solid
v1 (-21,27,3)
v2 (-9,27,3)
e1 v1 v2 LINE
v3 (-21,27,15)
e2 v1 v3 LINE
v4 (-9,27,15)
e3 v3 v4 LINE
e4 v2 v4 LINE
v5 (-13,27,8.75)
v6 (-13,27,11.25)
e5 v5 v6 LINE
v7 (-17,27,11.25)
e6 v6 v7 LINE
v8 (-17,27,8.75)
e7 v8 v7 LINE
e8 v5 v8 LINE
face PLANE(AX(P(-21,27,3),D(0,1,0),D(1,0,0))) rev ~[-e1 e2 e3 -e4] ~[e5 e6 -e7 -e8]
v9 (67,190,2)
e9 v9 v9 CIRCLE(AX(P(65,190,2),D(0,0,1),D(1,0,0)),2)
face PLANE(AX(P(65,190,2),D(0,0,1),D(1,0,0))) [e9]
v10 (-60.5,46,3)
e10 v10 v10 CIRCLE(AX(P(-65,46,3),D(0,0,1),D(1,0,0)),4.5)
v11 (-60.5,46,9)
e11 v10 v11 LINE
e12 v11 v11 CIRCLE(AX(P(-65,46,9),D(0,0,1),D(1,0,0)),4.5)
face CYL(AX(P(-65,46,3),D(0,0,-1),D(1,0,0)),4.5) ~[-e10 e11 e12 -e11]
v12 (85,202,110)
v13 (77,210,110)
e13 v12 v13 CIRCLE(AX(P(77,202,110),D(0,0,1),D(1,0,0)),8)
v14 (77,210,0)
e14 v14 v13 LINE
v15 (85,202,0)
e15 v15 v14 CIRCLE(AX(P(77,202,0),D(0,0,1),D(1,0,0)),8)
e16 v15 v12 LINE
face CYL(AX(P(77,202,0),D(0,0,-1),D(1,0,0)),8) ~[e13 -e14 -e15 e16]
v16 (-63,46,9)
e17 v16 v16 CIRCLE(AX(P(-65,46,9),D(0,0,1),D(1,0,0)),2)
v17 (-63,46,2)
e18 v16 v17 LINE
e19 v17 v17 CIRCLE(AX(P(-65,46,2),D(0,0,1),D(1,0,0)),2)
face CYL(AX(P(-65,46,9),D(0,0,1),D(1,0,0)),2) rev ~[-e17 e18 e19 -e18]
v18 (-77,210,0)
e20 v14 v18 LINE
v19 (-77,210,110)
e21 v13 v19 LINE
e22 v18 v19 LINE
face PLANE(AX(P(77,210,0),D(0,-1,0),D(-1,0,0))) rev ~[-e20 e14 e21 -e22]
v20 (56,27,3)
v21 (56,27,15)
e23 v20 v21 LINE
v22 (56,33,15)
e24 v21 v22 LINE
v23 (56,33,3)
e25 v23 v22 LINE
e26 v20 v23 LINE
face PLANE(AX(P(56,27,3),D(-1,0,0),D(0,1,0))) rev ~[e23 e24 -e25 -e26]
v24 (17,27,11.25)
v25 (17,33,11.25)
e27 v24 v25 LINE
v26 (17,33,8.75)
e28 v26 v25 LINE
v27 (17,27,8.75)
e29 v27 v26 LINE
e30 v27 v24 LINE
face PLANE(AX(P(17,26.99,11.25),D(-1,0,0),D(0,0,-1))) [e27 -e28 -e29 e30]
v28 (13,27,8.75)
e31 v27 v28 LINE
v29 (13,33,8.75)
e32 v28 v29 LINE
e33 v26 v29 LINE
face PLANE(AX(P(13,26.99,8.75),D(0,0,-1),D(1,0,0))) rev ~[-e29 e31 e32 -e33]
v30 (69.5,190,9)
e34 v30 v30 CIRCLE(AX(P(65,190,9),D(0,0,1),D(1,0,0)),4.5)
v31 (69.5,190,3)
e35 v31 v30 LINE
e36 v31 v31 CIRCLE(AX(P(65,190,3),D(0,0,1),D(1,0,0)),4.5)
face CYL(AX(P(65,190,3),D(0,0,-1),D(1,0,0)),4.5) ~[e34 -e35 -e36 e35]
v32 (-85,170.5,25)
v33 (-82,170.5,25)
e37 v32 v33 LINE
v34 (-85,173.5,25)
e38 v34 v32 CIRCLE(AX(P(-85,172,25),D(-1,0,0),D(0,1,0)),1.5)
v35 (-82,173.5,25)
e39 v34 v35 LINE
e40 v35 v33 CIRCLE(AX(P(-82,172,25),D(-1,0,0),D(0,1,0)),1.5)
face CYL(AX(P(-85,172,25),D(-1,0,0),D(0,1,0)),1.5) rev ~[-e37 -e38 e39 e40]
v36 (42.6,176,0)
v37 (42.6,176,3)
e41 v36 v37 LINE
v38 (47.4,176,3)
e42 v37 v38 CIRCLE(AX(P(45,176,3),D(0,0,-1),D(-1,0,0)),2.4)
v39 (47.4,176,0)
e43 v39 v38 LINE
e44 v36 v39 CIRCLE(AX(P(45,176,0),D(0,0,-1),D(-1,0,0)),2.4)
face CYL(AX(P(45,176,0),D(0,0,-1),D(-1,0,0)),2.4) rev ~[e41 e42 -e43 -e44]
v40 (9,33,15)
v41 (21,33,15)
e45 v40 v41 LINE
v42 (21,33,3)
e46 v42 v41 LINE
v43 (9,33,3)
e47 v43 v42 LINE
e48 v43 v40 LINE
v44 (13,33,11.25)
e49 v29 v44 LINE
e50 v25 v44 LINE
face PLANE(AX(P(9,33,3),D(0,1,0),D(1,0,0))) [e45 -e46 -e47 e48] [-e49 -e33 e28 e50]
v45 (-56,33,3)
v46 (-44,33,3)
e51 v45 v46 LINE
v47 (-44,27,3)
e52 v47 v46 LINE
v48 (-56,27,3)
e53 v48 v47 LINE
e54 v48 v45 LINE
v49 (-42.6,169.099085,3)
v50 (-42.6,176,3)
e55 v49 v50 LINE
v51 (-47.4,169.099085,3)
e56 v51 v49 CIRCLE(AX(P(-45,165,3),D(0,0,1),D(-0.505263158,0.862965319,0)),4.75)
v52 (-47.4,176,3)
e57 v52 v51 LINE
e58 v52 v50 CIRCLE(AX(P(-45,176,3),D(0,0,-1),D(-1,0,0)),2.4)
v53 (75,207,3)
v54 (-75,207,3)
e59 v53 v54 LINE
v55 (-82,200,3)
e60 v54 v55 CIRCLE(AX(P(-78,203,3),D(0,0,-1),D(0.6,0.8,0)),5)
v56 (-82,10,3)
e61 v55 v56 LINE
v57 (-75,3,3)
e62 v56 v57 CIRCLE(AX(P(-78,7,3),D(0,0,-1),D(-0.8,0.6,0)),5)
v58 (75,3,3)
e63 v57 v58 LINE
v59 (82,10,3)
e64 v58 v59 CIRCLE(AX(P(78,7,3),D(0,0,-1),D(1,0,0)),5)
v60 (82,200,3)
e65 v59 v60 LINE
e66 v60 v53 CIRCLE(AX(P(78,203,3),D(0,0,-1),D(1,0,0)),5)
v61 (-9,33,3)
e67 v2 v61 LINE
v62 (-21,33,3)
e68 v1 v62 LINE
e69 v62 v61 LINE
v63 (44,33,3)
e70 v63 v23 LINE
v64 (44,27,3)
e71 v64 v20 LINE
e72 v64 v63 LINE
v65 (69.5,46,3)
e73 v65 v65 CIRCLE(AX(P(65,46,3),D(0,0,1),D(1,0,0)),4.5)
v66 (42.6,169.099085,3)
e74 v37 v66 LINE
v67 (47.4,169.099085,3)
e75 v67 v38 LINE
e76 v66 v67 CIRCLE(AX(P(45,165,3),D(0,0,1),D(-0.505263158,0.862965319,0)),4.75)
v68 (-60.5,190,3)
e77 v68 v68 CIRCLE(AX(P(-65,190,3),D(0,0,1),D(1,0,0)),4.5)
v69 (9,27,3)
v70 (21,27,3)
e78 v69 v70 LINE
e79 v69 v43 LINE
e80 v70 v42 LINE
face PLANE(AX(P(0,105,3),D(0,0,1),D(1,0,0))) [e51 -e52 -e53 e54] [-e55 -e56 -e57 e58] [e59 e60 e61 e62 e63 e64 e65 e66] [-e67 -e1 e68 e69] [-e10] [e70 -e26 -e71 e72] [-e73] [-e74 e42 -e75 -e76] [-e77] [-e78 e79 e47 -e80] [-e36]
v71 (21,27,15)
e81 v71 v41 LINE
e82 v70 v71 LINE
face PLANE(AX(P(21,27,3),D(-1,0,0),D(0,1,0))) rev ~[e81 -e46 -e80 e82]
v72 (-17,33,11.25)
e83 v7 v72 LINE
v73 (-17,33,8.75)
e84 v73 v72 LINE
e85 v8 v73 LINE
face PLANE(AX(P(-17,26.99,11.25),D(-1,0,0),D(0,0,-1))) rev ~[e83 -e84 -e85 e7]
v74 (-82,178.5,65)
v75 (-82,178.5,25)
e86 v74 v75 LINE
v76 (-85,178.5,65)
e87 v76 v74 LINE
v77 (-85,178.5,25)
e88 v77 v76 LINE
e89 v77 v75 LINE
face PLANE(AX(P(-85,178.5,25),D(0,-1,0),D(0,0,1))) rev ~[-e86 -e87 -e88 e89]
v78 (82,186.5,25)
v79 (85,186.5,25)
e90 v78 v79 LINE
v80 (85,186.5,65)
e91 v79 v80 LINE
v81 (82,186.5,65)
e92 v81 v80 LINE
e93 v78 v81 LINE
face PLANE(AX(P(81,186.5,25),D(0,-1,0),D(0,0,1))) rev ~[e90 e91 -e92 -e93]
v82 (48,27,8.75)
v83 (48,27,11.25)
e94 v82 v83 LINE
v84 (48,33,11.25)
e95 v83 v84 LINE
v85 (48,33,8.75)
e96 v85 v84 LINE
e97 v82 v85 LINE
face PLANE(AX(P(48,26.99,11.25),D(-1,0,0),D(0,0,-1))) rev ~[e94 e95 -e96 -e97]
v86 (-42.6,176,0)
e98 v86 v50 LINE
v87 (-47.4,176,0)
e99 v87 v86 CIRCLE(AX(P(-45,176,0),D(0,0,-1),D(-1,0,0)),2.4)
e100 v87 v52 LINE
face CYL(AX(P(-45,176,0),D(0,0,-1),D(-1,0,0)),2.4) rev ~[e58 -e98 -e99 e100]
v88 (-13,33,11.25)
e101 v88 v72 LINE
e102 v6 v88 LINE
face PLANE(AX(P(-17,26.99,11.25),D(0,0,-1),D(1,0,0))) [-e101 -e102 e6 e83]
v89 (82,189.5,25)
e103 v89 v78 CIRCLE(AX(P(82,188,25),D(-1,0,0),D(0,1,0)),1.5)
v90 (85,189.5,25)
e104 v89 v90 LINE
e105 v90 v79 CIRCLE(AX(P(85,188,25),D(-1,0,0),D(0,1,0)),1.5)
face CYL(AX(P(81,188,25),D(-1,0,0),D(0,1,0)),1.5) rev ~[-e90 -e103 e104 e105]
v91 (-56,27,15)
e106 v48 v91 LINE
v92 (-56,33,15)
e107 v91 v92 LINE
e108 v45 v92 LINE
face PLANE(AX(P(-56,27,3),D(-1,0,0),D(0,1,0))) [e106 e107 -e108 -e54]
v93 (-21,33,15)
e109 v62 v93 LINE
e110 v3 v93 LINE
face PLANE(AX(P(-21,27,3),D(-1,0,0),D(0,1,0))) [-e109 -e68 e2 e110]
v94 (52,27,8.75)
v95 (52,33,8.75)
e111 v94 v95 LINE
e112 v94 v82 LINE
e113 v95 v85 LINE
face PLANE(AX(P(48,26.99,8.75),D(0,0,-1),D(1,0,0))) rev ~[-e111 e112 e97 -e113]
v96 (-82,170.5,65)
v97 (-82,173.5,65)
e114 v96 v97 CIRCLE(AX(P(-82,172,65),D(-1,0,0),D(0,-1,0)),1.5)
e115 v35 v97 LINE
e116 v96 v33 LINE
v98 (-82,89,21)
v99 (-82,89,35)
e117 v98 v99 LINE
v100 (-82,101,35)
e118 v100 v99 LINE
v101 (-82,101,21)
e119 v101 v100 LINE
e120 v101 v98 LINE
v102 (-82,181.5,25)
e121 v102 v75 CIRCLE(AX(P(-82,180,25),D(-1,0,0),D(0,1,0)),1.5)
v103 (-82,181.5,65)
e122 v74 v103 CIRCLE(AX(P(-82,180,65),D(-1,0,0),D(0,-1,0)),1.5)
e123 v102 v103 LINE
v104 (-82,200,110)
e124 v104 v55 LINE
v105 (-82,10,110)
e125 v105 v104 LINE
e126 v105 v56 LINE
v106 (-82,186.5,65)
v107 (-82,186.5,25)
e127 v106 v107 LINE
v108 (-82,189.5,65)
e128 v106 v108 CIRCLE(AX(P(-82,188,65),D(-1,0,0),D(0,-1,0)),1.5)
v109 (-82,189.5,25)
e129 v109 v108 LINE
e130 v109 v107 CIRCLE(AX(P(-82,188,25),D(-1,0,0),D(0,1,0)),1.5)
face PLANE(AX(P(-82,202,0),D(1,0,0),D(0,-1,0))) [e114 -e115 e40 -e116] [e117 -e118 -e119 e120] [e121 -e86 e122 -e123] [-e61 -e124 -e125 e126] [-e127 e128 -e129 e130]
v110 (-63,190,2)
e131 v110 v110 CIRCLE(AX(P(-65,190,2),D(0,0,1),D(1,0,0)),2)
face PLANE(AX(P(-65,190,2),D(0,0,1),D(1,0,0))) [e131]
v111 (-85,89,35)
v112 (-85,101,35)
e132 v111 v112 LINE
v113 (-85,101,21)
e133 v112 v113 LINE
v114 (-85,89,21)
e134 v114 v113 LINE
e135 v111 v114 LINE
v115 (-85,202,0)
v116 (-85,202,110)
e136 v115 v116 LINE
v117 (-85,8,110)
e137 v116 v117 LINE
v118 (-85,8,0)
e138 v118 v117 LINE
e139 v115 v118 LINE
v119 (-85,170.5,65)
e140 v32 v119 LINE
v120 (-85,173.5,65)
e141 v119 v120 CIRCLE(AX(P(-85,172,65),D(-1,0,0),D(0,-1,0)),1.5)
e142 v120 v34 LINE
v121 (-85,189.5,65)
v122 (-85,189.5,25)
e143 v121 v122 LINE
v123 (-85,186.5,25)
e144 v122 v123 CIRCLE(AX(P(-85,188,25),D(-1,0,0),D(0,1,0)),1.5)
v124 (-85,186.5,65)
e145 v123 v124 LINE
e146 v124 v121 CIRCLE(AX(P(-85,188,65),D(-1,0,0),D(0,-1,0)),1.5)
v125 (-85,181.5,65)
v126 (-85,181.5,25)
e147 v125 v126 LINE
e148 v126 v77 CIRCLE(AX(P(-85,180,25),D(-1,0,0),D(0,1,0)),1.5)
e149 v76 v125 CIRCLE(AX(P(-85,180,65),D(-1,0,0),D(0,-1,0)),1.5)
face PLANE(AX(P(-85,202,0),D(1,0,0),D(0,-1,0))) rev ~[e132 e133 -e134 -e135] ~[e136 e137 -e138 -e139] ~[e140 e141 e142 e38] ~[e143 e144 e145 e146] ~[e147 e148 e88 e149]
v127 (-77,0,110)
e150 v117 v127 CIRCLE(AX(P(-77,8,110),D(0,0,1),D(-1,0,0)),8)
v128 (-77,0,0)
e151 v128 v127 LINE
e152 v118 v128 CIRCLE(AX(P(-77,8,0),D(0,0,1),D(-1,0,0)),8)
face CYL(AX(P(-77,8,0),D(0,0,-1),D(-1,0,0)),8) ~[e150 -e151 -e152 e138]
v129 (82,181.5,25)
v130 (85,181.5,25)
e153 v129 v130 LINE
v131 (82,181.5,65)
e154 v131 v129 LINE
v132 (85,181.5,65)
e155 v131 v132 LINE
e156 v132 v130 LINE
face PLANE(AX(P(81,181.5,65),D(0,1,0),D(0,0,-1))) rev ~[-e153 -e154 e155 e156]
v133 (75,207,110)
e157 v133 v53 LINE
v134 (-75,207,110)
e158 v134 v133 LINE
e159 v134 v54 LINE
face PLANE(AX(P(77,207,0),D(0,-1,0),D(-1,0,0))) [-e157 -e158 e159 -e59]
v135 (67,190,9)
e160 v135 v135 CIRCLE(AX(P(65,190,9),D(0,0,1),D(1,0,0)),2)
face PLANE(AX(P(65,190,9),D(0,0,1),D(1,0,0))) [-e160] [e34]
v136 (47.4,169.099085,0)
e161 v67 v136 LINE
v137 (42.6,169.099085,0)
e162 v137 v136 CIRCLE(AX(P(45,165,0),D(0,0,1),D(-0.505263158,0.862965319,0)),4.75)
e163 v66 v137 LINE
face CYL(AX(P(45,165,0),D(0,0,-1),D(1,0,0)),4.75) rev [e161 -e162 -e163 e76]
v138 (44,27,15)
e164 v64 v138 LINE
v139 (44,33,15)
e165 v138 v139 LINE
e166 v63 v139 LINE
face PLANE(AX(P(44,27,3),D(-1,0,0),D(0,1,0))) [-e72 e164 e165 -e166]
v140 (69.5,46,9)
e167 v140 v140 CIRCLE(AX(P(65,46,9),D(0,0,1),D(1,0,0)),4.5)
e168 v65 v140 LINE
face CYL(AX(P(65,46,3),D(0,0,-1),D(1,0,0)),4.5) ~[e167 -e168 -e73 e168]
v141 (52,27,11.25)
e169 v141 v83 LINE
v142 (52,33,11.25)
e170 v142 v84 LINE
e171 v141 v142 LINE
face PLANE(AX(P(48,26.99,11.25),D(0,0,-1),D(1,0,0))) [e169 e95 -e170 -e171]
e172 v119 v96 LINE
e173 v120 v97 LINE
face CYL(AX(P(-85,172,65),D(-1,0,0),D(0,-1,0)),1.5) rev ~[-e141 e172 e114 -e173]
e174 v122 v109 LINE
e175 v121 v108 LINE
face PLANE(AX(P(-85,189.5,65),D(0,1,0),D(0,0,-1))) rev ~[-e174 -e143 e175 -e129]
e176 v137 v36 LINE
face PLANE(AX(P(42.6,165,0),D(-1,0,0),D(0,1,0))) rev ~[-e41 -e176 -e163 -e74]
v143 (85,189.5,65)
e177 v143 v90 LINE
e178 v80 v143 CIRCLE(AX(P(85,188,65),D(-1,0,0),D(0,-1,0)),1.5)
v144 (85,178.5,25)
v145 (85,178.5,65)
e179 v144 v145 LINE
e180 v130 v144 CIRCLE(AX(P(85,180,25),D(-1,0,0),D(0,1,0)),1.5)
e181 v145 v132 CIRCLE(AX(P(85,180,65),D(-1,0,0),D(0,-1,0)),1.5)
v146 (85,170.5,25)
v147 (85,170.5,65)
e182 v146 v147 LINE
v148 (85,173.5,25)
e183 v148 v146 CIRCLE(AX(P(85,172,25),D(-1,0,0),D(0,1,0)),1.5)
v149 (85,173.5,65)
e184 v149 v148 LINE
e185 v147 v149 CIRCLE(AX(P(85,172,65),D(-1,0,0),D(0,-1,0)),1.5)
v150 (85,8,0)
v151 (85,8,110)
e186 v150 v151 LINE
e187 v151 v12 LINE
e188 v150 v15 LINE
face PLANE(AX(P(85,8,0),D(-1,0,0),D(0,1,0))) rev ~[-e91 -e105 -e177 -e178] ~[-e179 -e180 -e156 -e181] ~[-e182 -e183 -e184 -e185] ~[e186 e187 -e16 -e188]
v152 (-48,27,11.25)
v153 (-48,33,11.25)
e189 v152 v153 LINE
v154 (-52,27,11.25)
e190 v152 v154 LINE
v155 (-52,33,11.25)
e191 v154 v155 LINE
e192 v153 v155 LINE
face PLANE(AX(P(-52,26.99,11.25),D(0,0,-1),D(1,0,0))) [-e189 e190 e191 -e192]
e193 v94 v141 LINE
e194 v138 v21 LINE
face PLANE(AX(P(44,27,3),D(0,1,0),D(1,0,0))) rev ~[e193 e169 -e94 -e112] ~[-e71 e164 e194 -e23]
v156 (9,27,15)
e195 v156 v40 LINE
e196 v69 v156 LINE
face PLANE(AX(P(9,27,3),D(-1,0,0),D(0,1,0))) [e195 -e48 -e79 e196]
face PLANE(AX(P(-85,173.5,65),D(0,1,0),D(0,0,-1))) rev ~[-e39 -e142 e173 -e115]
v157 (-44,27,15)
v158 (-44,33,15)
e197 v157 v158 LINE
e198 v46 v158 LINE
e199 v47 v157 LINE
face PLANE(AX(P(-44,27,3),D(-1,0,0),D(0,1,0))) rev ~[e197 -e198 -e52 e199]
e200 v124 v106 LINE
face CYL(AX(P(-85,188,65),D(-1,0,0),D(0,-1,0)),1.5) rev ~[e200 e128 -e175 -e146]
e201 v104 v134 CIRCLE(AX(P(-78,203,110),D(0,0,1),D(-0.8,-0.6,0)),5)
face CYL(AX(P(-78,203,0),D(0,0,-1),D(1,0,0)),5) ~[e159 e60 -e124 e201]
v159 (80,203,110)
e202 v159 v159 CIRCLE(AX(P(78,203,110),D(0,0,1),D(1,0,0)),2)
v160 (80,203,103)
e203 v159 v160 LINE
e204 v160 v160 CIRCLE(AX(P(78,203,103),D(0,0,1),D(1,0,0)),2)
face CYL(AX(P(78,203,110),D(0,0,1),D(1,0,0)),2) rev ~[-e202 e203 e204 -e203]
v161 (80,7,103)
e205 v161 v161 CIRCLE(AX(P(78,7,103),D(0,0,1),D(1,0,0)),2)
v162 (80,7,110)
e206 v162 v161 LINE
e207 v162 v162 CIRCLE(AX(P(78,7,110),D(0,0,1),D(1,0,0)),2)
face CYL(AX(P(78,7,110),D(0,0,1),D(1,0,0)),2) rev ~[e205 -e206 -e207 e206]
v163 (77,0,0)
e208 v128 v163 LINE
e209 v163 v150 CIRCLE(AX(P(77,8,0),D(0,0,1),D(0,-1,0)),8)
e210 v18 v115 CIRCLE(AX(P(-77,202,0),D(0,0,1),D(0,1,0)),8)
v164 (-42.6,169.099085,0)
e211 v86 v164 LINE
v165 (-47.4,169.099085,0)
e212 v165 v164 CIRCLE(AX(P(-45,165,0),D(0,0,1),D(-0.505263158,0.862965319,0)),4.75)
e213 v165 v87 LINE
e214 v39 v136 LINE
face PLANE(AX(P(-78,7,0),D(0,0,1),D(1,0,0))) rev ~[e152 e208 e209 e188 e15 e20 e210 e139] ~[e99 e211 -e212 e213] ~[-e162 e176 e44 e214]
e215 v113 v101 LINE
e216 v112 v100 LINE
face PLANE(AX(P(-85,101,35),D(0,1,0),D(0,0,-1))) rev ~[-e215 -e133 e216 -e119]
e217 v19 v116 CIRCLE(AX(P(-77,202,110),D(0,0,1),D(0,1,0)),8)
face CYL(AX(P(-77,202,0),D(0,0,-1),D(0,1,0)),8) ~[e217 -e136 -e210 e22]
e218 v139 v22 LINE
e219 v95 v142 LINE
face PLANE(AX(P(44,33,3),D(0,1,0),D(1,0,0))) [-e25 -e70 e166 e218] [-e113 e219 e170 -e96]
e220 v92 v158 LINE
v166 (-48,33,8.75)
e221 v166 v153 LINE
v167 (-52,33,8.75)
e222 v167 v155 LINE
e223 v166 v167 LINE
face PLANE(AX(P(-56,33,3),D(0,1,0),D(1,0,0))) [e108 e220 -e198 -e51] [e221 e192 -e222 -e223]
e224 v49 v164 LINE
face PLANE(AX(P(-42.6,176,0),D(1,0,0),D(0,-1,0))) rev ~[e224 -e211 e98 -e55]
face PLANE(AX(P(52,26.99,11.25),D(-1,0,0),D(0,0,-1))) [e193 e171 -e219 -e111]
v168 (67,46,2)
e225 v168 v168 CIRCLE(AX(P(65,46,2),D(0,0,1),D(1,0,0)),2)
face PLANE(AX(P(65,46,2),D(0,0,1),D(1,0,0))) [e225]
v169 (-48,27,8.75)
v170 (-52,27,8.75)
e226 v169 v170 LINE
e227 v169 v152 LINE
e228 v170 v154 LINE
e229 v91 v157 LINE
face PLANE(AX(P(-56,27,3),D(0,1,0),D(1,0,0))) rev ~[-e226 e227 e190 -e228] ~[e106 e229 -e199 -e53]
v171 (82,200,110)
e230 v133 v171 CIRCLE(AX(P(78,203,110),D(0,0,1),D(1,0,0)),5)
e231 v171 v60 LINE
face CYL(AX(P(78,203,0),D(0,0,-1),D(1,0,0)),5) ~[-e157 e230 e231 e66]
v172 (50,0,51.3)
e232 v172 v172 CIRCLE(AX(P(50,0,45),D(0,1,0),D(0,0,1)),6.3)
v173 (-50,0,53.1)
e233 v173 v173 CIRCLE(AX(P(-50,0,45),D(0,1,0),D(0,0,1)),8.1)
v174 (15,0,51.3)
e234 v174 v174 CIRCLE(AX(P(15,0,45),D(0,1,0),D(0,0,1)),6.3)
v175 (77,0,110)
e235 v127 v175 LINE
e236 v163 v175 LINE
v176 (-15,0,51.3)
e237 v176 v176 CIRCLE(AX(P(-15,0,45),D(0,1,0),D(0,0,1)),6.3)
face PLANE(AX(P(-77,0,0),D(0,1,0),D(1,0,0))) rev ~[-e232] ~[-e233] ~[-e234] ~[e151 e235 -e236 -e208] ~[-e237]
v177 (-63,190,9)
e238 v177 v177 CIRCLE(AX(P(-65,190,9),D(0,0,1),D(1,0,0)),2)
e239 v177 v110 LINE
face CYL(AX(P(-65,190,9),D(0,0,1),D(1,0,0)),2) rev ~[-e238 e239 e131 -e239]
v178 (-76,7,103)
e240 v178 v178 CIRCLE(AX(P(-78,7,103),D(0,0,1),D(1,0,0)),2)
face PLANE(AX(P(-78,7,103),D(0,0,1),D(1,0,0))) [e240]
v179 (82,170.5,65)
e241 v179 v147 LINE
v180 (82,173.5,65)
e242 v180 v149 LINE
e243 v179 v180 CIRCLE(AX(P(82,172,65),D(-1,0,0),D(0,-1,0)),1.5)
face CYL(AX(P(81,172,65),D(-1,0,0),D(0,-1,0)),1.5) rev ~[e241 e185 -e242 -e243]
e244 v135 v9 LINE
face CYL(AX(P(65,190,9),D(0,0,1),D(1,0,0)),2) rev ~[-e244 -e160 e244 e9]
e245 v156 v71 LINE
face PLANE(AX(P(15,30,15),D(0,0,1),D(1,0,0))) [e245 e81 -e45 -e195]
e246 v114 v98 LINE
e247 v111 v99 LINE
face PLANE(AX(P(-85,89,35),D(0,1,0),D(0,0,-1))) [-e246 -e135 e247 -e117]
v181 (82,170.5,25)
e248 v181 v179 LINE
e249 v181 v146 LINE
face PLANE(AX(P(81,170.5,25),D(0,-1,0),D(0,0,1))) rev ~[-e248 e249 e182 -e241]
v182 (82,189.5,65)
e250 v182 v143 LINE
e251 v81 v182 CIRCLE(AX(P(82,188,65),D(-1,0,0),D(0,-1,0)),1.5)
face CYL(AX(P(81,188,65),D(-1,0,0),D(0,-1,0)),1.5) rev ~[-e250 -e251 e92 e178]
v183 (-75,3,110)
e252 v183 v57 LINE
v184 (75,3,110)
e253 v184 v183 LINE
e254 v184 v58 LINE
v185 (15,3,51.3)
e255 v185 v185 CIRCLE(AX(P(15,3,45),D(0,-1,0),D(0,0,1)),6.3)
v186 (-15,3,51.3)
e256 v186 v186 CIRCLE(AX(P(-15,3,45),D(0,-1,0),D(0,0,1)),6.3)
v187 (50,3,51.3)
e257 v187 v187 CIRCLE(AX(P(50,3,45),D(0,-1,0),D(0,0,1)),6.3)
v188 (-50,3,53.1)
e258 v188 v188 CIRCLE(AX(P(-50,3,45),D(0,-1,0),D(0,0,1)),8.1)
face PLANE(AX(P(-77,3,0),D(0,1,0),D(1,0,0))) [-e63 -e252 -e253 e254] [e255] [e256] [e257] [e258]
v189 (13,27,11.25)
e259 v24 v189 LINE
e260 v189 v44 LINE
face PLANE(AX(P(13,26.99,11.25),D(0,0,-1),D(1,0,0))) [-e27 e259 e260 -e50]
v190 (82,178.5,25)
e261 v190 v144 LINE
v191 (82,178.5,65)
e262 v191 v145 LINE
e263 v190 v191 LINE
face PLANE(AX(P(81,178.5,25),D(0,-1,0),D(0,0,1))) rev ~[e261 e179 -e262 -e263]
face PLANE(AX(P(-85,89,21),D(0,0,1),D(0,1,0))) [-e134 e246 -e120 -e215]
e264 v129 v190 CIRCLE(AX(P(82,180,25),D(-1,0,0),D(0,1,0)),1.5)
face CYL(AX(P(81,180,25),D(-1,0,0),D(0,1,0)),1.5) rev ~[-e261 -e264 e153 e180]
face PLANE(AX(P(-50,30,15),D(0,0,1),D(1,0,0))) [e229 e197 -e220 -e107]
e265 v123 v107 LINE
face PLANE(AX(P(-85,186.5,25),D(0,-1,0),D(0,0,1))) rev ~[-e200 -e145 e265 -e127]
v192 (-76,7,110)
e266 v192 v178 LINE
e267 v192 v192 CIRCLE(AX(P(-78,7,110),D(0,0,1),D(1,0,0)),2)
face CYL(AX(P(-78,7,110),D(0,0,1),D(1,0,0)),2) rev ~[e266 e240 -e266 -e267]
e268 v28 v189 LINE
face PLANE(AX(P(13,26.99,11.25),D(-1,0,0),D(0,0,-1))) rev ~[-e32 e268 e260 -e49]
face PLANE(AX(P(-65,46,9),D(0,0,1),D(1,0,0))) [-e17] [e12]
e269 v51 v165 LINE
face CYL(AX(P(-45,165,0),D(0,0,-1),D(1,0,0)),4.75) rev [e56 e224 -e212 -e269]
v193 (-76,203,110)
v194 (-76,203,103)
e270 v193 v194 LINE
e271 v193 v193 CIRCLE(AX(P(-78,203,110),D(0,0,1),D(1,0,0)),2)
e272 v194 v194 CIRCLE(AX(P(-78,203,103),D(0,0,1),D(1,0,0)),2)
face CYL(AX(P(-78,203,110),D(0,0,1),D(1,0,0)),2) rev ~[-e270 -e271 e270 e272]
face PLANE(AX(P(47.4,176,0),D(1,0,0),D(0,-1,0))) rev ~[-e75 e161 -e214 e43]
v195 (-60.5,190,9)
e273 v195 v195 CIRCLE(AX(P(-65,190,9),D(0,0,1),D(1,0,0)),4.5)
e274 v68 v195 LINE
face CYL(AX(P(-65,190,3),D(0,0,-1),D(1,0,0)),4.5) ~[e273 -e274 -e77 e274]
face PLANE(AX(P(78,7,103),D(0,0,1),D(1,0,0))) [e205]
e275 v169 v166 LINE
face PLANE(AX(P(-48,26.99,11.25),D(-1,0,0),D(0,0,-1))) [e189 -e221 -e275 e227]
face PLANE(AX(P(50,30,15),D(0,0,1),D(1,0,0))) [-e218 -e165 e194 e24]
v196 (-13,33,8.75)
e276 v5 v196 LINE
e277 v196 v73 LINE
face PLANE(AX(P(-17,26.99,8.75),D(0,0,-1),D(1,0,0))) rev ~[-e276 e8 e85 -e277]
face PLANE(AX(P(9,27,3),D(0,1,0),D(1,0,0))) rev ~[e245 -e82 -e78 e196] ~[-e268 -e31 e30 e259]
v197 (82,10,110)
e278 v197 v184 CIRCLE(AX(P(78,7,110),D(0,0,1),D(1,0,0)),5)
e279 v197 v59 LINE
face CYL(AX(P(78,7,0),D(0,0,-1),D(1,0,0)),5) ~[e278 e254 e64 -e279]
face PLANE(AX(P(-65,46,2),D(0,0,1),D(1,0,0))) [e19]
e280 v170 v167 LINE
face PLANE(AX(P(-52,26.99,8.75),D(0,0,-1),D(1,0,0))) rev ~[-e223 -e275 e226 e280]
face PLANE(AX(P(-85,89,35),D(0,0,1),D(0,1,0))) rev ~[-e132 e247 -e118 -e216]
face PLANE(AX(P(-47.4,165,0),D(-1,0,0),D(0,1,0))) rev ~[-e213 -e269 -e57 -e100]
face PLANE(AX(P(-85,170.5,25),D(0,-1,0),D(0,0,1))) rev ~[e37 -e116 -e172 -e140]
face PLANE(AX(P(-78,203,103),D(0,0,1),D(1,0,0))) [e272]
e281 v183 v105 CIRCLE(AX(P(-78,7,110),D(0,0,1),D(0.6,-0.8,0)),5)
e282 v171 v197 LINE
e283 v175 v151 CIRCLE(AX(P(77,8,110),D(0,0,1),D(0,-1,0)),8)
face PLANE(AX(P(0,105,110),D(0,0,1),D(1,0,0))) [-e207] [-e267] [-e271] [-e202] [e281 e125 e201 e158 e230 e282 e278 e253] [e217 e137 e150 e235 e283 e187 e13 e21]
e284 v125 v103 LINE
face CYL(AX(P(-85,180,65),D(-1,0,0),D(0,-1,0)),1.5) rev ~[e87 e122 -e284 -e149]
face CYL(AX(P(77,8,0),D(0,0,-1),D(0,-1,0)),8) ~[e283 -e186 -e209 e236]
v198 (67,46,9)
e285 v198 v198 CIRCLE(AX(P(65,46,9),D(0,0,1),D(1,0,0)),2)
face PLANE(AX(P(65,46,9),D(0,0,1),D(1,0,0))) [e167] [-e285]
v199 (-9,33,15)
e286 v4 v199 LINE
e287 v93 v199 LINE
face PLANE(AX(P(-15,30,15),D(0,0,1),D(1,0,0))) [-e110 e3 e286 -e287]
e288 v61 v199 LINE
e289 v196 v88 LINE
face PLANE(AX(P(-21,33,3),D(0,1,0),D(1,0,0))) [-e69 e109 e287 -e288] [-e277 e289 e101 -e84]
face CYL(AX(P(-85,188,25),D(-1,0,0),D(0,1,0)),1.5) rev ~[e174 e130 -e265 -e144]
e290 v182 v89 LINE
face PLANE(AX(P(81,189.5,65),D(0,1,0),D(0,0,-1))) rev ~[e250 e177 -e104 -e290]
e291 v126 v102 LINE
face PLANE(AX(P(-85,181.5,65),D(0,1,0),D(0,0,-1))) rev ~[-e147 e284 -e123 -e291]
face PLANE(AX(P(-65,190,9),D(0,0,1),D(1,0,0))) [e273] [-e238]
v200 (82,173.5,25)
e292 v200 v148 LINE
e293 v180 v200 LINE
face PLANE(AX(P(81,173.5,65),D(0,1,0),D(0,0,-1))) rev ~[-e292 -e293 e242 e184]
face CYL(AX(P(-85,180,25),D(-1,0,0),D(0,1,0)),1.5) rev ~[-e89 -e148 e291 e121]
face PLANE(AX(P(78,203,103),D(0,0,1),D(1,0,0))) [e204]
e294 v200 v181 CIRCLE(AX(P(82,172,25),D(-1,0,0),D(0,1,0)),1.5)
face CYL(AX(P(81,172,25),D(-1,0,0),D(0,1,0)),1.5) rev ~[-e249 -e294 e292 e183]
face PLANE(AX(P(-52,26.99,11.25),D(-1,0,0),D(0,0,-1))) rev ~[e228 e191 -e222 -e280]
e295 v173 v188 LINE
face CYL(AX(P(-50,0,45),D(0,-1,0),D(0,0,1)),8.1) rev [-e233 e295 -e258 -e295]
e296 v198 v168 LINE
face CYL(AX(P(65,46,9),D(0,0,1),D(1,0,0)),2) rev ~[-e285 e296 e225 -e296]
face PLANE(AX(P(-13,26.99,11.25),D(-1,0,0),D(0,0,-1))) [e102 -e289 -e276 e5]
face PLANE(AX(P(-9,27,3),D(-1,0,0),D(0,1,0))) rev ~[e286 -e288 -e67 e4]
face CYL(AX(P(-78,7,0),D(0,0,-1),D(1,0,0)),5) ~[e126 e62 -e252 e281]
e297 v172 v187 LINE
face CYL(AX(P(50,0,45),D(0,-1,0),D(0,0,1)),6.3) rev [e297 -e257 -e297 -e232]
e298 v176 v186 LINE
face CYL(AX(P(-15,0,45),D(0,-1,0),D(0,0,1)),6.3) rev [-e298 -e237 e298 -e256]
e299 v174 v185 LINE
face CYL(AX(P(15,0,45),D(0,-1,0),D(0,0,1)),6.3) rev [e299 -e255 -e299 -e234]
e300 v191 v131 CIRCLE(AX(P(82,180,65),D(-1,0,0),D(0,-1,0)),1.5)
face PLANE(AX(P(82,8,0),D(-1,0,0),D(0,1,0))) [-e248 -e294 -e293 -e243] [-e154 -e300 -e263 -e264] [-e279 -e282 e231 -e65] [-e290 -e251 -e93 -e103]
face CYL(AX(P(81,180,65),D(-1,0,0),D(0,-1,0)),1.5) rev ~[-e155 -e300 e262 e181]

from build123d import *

# Parameters (mm, degrees)
BLOCK_DEPTH                    = 110
SHELL1_T                       = -3
SKETCH2_R                      = 5
CORNER_COLUMNS_DEPTH           = 110
SKETCH3_R                      = 2
FRONT_PANEL_INSERT_HOLES_DEPTH = 7
SKETCH4_R                      = 4.5
PLATE_BOSSES_DEPTH             = 6
SKETCH5_R                      = 2
PLATE_INSERT_HOLES_DEPTH       = 7
SKETCH6_R                      = 8.1
SKETCH6_R_2                    = 6.3
CABLE_GLAND_HOLES_DEPTH        = 4
SKETCH7_W                      = 12
SKETCH7_H                      = 6
CABLE_TIE_BARS_DEPTH           = 12
SKETCH8_W                      = 4
SKETCH8_H                      = 2.5
CABLE_TIE_SLOTS_DEPTH          = 6.02
SKETCH9_W                      = 14
SKETCH9_H                      = 12
USB_ACCESS_DEPTH               = 4
VENTS_LEFT_DEPTH               = 4
VENTS_START                    = -4
VENTS_RIGHT_DEPTH              = 4
SKETCH12_R                     = 4.75
KEYHOLE_HEADS_DEPTH            = 4
KEYHOLE_SLOTS_DEPTH            = 4


with BuildPart() as part:
    # Sketch1 → Block (new body)
    with BuildSketch(Plane.XY):
        with BuildLine():
            Line((-77, 0), (77, 0))
            ThreePointArc((77, 0), (82.656854249, 2.343145751), (85, 8))
            Line((85, 8), (85, 202))
            ThreePointArc((85, 202), (82.656854249, 207.656854249), (77, 210))
            Line((77, 210), (-77, 210))
            ThreePointArc((-77, 210), (-82.656854249, 207.656854249), (-85, 202))
            Line((-85, 202), (-85, 8))
            ThreePointArc((-85, 8), (-82.656854249, 2.343145751), (-77, 0))
        make_face()
    extrude(amount=BLOCK_DEPTH)

    # Shell1
    shell1_openings = [part.faces().sort_by_distance(p)[0] for p in [
        (0, 105, 110),
    ]]
    offset(amount=SHELL1_T, openings=shell1_openings, kind=Kind.INTERSECTION)

    # Sketch2 → Corner columns (add)
    with BuildSketch(Plane.XY):
        with Locations((-78, 7)):
            Circle(SKETCH2_R)
        with Locations((78, 7)):
            Circle(SKETCH2_R)
        with Locations((-78, 203)):
            Circle(SKETCH2_R)
        with Locations((78, 203)):
            Circle(SKETCH2_R)
    extrude(amount=CORNER_COLUMNS_DEPTH)

    # Sketch3 → Front panel insert holes (cut)
    with BuildSketch(Plane.XY.offset(110)):
        with Locations((-78, 7)):
            Circle(SKETCH3_R)
        with Locations((78, 7)):
            Circle(SKETCH3_R)
        with Locations((-78, 203)):
            Circle(SKETCH3_R)
        with Locations((78, 203)):
            Circle(SKETCH3_R)
    extrude(amount=-FRONT_PANEL_INSERT_HOLES_DEPTH, mode=Mode.SUBTRACT)

    # Sketch4 → Plate bosses (add)
    with BuildSketch(Plane.XY.offset(3)):
        with Locations((-65, 46)):
            Circle(SKETCH4_R)
        with Locations((65, 46)):
            Circle(SKETCH4_R)
        with Locations((-65, 190)):
            Circle(SKETCH4_R)
        with Locations((65, 190)):
            Circle(SKETCH4_R)
    extrude(amount=PLATE_BOSSES_DEPTH)

    # Sketch5 → Plate insert holes (cut)
    with BuildSketch(Plane.XY.offset(9)):
        with Locations((-65, 46)):
            Circle(SKETCH5_R)
        with Locations((65, 46)):
            Circle(SKETCH5_R)
        with Locations((-65, 190)):
            Circle(SKETCH5_R)
        with Locations((65, 190)):
            Circle(SKETCH5_R)
    extrude(amount=-PLATE_INSERT_HOLES_DEPTH, mode=Mode.SUBTRACT)

    # Sketch6 → Cable gland holes (cut)
    with BuildSketch(Plane(origin=(0, 0, 0), x_dir=(1, 0, 0), z_dir=(0, 1, 0))):
        with Locations(Location((-50, -45, 0), (0, 0, 270))):
            Circle(SKETCH6_R)
        with Locations(Location((-15, -45, 0), (0, 0, 270))):
            Circle(SKETCH6_R_2)
        with Locations(Location((15, -45, 0), (0, 0, 270))):
            Circle(SKETCH6_R_2)
        with Locations(Location((50, -45, 0), (0, 0, 270))):
            Circle(SKETCH6_R_2)
    extrude(amount=CABLE_GLAND_HOLES_DEPTH, mode=Mode.SUBTRACT)

    # Sketch7 → Cable tie bars (add)
    with BuildSketch(Plane.XY.offset(3)):
        with Locations((-50, 30)):
            Rectangle(SKETCH7_W, SKETCH7_H)
        with Locations((-15, 30)):
            Rectangle(SKETCH7_W, SKETCH7_H)
        with Locations((15, 30)):
            Rectangle(SKETCH7_W, SKETCH7_H)
        with Locations((50, 30)):
            Rectangle(SKETCH7_W, SKETCH7_H)
    extrude(amount=CABLE_TIE_BARS_DEPTH)

    # Sketch8 → Cable tie slots (cut)
    with BuildSketch(Plane(origin=(0, 26.99, 0), x_dir=(1, 0, 0), z_dir=(0, 1, 0))):
        with Locations((-50, -10)):
            Rectangle(SKETCH8_W, SKETCH8_H)
        with Locations((-15, -10)):
            Rectangle(SKETCH8_W, SKETCH8_H)
        with Locations((15, -10)):
            Rectangle(SKETCH8_W, SKETCH8_H)
        with Locations((50, -10)):
            Rectangle(SKETCH8_W, SKETCH8_H)
    extrude(amount=CABLE_TIE_SLOTS_DEPTH, mode=Mode.SUBTRACT)

    # Sketch9 → USB access (cut)
    with BuildSketch(Plane(origin=(-85, 0, 0), x_dir=(0, 0, -1), z_dir=(1, 0, 0))):
        with Locations((-28, 95)):
            Rectangle(SKETCH9_W, SKETCH9_H)
    extrude(amount=USB_ACCESS_DEPTH, mode=Mode.SUBTRACT)

    # Sketch10 → Vents left (cut)
    with BuildSketch(Plane(origin=(-85, 0, 0), x_dir=(0, 0, -1), z_dir=(1, 0, 0))):
        with BuildLine():
            Line((-25, 170.5), (-65, 170.5))
            ThreePointArc((-65, 170.5), (-66.5, 172), (-65, 173.5))
            Line((-65, 173.5), (-25, 173.5))
            ThreePointArc((-25, 173.5), (-23.5, 172), (-25, 170.5))
        make_face()
        with BuildLine():
            Line((-25, 178.5), (-65, 178.5))
            ThreePointArc((-65, 178.5), (-66.5, 180), (-65, 181.5))
            Line((-65, 181.5), (-25, 181.5))
            ThreePointArc((-25, 181.5), (-23.5, 180), (-25, 178.5))
        make_face()
        with BuildLine():
            Line((-25, 186.5), (-65, 186.5))
            ThreePointArc((-65, 186.5), (-66.5, 188), (-65, 189.5))
            Line((-65, 189.5), (-25, 189.5))
            ThreePointArc((-25, 189.5), (-23.5, 188), (-25, 186.5))
        make_face()
    extrude(amount=VENTS_LEFT_DEPTH, mode=Mode.SUBTRACT)

    # Sketch11 → Vents right (cut)
    with BuildSketch(Plane(origin=(85, 0, 0), x_dir=(0, 0, -1), z_dir=(1, 0, 0)).offset(VENTS_START)):
        with BuildLine():
            Line((-25, 170.5), (-65, 170.5))
            ThreePointArc((-65, 170.5), (-66.5, 172), (-65, 173.5))
            Line((-65, 173.5), (-25, 173.5))
            ThreePointArc((-25, 173.5), (-23.5, 172), (-25, 170.5))
        make_face()
        with BuildLine():
            Line((-25, 178.5), (-65, 178.5))
            ThreePointArc((-65, 178.5), (-66.5, 180), (-65, 181.5))
            Line((-65, 181.5), (-25, 181.5))
            ThreePointArc((-25, 181.5), (-23.5, 180), (-25, 178.5))
        make_face()
        with BuildLine():
            Line((-25, 186.5), (-65, 186.5))
            ThreePointArc((-65, 186.5), (-66.5, 188), (-65, 189.5))
            Line((-65, 189.5), (-25, 189.5))
            ThreePointArc((-25, 189.5), (-23.5, 188), (-25, 186.5))
        make_face()
    extrude(amount=VENTS_RIGHT_DEPTH, mode=Mode.SUBTRACT)

    # Sketch12 → Keyhole heads (cut)
    with BuildSketch(Plane.XY):
        with Locations((-45, 165)):
            Circle(SKETCH12_R)
        with Locations((45, 165)):
            Circle(SKETCH12_R)
    extrude(amount=KEYHOLE_HEADS_DEPTH, mode=Mode.SUBTRACT)

    # Sketch13 → Keyhole slots (cut)
    with BuildSketch(Plane.XY):
        with BuildLine():
            Line((-47.4, 165), (-47.4, 176))
            ThreePointArc((-47.4, 176), (-45, 178.4), (-42.6, 176))
            Line((-42.6, 176), (-42.6, 165))
            ThreePointArc((-42.6, 165), (-45, 162.6), (-47.4, 165))
        make_face()
        with BuildLine():
            Line((42.6, 165), (42.6, 176))
            ThreePointArc((42.6, 176), (45, 178.4), (47.4, 176))
            Line((47.4, 176), (47.4, 165))
            ThreePointArc((47.4, 165), (45, 162.6), (42.6, 165))
        make_face()
    extrude(amount=KEYHOLE_SLOTS_DEPTH, mode=Mode.SUBTRACT)


solid = part.part
